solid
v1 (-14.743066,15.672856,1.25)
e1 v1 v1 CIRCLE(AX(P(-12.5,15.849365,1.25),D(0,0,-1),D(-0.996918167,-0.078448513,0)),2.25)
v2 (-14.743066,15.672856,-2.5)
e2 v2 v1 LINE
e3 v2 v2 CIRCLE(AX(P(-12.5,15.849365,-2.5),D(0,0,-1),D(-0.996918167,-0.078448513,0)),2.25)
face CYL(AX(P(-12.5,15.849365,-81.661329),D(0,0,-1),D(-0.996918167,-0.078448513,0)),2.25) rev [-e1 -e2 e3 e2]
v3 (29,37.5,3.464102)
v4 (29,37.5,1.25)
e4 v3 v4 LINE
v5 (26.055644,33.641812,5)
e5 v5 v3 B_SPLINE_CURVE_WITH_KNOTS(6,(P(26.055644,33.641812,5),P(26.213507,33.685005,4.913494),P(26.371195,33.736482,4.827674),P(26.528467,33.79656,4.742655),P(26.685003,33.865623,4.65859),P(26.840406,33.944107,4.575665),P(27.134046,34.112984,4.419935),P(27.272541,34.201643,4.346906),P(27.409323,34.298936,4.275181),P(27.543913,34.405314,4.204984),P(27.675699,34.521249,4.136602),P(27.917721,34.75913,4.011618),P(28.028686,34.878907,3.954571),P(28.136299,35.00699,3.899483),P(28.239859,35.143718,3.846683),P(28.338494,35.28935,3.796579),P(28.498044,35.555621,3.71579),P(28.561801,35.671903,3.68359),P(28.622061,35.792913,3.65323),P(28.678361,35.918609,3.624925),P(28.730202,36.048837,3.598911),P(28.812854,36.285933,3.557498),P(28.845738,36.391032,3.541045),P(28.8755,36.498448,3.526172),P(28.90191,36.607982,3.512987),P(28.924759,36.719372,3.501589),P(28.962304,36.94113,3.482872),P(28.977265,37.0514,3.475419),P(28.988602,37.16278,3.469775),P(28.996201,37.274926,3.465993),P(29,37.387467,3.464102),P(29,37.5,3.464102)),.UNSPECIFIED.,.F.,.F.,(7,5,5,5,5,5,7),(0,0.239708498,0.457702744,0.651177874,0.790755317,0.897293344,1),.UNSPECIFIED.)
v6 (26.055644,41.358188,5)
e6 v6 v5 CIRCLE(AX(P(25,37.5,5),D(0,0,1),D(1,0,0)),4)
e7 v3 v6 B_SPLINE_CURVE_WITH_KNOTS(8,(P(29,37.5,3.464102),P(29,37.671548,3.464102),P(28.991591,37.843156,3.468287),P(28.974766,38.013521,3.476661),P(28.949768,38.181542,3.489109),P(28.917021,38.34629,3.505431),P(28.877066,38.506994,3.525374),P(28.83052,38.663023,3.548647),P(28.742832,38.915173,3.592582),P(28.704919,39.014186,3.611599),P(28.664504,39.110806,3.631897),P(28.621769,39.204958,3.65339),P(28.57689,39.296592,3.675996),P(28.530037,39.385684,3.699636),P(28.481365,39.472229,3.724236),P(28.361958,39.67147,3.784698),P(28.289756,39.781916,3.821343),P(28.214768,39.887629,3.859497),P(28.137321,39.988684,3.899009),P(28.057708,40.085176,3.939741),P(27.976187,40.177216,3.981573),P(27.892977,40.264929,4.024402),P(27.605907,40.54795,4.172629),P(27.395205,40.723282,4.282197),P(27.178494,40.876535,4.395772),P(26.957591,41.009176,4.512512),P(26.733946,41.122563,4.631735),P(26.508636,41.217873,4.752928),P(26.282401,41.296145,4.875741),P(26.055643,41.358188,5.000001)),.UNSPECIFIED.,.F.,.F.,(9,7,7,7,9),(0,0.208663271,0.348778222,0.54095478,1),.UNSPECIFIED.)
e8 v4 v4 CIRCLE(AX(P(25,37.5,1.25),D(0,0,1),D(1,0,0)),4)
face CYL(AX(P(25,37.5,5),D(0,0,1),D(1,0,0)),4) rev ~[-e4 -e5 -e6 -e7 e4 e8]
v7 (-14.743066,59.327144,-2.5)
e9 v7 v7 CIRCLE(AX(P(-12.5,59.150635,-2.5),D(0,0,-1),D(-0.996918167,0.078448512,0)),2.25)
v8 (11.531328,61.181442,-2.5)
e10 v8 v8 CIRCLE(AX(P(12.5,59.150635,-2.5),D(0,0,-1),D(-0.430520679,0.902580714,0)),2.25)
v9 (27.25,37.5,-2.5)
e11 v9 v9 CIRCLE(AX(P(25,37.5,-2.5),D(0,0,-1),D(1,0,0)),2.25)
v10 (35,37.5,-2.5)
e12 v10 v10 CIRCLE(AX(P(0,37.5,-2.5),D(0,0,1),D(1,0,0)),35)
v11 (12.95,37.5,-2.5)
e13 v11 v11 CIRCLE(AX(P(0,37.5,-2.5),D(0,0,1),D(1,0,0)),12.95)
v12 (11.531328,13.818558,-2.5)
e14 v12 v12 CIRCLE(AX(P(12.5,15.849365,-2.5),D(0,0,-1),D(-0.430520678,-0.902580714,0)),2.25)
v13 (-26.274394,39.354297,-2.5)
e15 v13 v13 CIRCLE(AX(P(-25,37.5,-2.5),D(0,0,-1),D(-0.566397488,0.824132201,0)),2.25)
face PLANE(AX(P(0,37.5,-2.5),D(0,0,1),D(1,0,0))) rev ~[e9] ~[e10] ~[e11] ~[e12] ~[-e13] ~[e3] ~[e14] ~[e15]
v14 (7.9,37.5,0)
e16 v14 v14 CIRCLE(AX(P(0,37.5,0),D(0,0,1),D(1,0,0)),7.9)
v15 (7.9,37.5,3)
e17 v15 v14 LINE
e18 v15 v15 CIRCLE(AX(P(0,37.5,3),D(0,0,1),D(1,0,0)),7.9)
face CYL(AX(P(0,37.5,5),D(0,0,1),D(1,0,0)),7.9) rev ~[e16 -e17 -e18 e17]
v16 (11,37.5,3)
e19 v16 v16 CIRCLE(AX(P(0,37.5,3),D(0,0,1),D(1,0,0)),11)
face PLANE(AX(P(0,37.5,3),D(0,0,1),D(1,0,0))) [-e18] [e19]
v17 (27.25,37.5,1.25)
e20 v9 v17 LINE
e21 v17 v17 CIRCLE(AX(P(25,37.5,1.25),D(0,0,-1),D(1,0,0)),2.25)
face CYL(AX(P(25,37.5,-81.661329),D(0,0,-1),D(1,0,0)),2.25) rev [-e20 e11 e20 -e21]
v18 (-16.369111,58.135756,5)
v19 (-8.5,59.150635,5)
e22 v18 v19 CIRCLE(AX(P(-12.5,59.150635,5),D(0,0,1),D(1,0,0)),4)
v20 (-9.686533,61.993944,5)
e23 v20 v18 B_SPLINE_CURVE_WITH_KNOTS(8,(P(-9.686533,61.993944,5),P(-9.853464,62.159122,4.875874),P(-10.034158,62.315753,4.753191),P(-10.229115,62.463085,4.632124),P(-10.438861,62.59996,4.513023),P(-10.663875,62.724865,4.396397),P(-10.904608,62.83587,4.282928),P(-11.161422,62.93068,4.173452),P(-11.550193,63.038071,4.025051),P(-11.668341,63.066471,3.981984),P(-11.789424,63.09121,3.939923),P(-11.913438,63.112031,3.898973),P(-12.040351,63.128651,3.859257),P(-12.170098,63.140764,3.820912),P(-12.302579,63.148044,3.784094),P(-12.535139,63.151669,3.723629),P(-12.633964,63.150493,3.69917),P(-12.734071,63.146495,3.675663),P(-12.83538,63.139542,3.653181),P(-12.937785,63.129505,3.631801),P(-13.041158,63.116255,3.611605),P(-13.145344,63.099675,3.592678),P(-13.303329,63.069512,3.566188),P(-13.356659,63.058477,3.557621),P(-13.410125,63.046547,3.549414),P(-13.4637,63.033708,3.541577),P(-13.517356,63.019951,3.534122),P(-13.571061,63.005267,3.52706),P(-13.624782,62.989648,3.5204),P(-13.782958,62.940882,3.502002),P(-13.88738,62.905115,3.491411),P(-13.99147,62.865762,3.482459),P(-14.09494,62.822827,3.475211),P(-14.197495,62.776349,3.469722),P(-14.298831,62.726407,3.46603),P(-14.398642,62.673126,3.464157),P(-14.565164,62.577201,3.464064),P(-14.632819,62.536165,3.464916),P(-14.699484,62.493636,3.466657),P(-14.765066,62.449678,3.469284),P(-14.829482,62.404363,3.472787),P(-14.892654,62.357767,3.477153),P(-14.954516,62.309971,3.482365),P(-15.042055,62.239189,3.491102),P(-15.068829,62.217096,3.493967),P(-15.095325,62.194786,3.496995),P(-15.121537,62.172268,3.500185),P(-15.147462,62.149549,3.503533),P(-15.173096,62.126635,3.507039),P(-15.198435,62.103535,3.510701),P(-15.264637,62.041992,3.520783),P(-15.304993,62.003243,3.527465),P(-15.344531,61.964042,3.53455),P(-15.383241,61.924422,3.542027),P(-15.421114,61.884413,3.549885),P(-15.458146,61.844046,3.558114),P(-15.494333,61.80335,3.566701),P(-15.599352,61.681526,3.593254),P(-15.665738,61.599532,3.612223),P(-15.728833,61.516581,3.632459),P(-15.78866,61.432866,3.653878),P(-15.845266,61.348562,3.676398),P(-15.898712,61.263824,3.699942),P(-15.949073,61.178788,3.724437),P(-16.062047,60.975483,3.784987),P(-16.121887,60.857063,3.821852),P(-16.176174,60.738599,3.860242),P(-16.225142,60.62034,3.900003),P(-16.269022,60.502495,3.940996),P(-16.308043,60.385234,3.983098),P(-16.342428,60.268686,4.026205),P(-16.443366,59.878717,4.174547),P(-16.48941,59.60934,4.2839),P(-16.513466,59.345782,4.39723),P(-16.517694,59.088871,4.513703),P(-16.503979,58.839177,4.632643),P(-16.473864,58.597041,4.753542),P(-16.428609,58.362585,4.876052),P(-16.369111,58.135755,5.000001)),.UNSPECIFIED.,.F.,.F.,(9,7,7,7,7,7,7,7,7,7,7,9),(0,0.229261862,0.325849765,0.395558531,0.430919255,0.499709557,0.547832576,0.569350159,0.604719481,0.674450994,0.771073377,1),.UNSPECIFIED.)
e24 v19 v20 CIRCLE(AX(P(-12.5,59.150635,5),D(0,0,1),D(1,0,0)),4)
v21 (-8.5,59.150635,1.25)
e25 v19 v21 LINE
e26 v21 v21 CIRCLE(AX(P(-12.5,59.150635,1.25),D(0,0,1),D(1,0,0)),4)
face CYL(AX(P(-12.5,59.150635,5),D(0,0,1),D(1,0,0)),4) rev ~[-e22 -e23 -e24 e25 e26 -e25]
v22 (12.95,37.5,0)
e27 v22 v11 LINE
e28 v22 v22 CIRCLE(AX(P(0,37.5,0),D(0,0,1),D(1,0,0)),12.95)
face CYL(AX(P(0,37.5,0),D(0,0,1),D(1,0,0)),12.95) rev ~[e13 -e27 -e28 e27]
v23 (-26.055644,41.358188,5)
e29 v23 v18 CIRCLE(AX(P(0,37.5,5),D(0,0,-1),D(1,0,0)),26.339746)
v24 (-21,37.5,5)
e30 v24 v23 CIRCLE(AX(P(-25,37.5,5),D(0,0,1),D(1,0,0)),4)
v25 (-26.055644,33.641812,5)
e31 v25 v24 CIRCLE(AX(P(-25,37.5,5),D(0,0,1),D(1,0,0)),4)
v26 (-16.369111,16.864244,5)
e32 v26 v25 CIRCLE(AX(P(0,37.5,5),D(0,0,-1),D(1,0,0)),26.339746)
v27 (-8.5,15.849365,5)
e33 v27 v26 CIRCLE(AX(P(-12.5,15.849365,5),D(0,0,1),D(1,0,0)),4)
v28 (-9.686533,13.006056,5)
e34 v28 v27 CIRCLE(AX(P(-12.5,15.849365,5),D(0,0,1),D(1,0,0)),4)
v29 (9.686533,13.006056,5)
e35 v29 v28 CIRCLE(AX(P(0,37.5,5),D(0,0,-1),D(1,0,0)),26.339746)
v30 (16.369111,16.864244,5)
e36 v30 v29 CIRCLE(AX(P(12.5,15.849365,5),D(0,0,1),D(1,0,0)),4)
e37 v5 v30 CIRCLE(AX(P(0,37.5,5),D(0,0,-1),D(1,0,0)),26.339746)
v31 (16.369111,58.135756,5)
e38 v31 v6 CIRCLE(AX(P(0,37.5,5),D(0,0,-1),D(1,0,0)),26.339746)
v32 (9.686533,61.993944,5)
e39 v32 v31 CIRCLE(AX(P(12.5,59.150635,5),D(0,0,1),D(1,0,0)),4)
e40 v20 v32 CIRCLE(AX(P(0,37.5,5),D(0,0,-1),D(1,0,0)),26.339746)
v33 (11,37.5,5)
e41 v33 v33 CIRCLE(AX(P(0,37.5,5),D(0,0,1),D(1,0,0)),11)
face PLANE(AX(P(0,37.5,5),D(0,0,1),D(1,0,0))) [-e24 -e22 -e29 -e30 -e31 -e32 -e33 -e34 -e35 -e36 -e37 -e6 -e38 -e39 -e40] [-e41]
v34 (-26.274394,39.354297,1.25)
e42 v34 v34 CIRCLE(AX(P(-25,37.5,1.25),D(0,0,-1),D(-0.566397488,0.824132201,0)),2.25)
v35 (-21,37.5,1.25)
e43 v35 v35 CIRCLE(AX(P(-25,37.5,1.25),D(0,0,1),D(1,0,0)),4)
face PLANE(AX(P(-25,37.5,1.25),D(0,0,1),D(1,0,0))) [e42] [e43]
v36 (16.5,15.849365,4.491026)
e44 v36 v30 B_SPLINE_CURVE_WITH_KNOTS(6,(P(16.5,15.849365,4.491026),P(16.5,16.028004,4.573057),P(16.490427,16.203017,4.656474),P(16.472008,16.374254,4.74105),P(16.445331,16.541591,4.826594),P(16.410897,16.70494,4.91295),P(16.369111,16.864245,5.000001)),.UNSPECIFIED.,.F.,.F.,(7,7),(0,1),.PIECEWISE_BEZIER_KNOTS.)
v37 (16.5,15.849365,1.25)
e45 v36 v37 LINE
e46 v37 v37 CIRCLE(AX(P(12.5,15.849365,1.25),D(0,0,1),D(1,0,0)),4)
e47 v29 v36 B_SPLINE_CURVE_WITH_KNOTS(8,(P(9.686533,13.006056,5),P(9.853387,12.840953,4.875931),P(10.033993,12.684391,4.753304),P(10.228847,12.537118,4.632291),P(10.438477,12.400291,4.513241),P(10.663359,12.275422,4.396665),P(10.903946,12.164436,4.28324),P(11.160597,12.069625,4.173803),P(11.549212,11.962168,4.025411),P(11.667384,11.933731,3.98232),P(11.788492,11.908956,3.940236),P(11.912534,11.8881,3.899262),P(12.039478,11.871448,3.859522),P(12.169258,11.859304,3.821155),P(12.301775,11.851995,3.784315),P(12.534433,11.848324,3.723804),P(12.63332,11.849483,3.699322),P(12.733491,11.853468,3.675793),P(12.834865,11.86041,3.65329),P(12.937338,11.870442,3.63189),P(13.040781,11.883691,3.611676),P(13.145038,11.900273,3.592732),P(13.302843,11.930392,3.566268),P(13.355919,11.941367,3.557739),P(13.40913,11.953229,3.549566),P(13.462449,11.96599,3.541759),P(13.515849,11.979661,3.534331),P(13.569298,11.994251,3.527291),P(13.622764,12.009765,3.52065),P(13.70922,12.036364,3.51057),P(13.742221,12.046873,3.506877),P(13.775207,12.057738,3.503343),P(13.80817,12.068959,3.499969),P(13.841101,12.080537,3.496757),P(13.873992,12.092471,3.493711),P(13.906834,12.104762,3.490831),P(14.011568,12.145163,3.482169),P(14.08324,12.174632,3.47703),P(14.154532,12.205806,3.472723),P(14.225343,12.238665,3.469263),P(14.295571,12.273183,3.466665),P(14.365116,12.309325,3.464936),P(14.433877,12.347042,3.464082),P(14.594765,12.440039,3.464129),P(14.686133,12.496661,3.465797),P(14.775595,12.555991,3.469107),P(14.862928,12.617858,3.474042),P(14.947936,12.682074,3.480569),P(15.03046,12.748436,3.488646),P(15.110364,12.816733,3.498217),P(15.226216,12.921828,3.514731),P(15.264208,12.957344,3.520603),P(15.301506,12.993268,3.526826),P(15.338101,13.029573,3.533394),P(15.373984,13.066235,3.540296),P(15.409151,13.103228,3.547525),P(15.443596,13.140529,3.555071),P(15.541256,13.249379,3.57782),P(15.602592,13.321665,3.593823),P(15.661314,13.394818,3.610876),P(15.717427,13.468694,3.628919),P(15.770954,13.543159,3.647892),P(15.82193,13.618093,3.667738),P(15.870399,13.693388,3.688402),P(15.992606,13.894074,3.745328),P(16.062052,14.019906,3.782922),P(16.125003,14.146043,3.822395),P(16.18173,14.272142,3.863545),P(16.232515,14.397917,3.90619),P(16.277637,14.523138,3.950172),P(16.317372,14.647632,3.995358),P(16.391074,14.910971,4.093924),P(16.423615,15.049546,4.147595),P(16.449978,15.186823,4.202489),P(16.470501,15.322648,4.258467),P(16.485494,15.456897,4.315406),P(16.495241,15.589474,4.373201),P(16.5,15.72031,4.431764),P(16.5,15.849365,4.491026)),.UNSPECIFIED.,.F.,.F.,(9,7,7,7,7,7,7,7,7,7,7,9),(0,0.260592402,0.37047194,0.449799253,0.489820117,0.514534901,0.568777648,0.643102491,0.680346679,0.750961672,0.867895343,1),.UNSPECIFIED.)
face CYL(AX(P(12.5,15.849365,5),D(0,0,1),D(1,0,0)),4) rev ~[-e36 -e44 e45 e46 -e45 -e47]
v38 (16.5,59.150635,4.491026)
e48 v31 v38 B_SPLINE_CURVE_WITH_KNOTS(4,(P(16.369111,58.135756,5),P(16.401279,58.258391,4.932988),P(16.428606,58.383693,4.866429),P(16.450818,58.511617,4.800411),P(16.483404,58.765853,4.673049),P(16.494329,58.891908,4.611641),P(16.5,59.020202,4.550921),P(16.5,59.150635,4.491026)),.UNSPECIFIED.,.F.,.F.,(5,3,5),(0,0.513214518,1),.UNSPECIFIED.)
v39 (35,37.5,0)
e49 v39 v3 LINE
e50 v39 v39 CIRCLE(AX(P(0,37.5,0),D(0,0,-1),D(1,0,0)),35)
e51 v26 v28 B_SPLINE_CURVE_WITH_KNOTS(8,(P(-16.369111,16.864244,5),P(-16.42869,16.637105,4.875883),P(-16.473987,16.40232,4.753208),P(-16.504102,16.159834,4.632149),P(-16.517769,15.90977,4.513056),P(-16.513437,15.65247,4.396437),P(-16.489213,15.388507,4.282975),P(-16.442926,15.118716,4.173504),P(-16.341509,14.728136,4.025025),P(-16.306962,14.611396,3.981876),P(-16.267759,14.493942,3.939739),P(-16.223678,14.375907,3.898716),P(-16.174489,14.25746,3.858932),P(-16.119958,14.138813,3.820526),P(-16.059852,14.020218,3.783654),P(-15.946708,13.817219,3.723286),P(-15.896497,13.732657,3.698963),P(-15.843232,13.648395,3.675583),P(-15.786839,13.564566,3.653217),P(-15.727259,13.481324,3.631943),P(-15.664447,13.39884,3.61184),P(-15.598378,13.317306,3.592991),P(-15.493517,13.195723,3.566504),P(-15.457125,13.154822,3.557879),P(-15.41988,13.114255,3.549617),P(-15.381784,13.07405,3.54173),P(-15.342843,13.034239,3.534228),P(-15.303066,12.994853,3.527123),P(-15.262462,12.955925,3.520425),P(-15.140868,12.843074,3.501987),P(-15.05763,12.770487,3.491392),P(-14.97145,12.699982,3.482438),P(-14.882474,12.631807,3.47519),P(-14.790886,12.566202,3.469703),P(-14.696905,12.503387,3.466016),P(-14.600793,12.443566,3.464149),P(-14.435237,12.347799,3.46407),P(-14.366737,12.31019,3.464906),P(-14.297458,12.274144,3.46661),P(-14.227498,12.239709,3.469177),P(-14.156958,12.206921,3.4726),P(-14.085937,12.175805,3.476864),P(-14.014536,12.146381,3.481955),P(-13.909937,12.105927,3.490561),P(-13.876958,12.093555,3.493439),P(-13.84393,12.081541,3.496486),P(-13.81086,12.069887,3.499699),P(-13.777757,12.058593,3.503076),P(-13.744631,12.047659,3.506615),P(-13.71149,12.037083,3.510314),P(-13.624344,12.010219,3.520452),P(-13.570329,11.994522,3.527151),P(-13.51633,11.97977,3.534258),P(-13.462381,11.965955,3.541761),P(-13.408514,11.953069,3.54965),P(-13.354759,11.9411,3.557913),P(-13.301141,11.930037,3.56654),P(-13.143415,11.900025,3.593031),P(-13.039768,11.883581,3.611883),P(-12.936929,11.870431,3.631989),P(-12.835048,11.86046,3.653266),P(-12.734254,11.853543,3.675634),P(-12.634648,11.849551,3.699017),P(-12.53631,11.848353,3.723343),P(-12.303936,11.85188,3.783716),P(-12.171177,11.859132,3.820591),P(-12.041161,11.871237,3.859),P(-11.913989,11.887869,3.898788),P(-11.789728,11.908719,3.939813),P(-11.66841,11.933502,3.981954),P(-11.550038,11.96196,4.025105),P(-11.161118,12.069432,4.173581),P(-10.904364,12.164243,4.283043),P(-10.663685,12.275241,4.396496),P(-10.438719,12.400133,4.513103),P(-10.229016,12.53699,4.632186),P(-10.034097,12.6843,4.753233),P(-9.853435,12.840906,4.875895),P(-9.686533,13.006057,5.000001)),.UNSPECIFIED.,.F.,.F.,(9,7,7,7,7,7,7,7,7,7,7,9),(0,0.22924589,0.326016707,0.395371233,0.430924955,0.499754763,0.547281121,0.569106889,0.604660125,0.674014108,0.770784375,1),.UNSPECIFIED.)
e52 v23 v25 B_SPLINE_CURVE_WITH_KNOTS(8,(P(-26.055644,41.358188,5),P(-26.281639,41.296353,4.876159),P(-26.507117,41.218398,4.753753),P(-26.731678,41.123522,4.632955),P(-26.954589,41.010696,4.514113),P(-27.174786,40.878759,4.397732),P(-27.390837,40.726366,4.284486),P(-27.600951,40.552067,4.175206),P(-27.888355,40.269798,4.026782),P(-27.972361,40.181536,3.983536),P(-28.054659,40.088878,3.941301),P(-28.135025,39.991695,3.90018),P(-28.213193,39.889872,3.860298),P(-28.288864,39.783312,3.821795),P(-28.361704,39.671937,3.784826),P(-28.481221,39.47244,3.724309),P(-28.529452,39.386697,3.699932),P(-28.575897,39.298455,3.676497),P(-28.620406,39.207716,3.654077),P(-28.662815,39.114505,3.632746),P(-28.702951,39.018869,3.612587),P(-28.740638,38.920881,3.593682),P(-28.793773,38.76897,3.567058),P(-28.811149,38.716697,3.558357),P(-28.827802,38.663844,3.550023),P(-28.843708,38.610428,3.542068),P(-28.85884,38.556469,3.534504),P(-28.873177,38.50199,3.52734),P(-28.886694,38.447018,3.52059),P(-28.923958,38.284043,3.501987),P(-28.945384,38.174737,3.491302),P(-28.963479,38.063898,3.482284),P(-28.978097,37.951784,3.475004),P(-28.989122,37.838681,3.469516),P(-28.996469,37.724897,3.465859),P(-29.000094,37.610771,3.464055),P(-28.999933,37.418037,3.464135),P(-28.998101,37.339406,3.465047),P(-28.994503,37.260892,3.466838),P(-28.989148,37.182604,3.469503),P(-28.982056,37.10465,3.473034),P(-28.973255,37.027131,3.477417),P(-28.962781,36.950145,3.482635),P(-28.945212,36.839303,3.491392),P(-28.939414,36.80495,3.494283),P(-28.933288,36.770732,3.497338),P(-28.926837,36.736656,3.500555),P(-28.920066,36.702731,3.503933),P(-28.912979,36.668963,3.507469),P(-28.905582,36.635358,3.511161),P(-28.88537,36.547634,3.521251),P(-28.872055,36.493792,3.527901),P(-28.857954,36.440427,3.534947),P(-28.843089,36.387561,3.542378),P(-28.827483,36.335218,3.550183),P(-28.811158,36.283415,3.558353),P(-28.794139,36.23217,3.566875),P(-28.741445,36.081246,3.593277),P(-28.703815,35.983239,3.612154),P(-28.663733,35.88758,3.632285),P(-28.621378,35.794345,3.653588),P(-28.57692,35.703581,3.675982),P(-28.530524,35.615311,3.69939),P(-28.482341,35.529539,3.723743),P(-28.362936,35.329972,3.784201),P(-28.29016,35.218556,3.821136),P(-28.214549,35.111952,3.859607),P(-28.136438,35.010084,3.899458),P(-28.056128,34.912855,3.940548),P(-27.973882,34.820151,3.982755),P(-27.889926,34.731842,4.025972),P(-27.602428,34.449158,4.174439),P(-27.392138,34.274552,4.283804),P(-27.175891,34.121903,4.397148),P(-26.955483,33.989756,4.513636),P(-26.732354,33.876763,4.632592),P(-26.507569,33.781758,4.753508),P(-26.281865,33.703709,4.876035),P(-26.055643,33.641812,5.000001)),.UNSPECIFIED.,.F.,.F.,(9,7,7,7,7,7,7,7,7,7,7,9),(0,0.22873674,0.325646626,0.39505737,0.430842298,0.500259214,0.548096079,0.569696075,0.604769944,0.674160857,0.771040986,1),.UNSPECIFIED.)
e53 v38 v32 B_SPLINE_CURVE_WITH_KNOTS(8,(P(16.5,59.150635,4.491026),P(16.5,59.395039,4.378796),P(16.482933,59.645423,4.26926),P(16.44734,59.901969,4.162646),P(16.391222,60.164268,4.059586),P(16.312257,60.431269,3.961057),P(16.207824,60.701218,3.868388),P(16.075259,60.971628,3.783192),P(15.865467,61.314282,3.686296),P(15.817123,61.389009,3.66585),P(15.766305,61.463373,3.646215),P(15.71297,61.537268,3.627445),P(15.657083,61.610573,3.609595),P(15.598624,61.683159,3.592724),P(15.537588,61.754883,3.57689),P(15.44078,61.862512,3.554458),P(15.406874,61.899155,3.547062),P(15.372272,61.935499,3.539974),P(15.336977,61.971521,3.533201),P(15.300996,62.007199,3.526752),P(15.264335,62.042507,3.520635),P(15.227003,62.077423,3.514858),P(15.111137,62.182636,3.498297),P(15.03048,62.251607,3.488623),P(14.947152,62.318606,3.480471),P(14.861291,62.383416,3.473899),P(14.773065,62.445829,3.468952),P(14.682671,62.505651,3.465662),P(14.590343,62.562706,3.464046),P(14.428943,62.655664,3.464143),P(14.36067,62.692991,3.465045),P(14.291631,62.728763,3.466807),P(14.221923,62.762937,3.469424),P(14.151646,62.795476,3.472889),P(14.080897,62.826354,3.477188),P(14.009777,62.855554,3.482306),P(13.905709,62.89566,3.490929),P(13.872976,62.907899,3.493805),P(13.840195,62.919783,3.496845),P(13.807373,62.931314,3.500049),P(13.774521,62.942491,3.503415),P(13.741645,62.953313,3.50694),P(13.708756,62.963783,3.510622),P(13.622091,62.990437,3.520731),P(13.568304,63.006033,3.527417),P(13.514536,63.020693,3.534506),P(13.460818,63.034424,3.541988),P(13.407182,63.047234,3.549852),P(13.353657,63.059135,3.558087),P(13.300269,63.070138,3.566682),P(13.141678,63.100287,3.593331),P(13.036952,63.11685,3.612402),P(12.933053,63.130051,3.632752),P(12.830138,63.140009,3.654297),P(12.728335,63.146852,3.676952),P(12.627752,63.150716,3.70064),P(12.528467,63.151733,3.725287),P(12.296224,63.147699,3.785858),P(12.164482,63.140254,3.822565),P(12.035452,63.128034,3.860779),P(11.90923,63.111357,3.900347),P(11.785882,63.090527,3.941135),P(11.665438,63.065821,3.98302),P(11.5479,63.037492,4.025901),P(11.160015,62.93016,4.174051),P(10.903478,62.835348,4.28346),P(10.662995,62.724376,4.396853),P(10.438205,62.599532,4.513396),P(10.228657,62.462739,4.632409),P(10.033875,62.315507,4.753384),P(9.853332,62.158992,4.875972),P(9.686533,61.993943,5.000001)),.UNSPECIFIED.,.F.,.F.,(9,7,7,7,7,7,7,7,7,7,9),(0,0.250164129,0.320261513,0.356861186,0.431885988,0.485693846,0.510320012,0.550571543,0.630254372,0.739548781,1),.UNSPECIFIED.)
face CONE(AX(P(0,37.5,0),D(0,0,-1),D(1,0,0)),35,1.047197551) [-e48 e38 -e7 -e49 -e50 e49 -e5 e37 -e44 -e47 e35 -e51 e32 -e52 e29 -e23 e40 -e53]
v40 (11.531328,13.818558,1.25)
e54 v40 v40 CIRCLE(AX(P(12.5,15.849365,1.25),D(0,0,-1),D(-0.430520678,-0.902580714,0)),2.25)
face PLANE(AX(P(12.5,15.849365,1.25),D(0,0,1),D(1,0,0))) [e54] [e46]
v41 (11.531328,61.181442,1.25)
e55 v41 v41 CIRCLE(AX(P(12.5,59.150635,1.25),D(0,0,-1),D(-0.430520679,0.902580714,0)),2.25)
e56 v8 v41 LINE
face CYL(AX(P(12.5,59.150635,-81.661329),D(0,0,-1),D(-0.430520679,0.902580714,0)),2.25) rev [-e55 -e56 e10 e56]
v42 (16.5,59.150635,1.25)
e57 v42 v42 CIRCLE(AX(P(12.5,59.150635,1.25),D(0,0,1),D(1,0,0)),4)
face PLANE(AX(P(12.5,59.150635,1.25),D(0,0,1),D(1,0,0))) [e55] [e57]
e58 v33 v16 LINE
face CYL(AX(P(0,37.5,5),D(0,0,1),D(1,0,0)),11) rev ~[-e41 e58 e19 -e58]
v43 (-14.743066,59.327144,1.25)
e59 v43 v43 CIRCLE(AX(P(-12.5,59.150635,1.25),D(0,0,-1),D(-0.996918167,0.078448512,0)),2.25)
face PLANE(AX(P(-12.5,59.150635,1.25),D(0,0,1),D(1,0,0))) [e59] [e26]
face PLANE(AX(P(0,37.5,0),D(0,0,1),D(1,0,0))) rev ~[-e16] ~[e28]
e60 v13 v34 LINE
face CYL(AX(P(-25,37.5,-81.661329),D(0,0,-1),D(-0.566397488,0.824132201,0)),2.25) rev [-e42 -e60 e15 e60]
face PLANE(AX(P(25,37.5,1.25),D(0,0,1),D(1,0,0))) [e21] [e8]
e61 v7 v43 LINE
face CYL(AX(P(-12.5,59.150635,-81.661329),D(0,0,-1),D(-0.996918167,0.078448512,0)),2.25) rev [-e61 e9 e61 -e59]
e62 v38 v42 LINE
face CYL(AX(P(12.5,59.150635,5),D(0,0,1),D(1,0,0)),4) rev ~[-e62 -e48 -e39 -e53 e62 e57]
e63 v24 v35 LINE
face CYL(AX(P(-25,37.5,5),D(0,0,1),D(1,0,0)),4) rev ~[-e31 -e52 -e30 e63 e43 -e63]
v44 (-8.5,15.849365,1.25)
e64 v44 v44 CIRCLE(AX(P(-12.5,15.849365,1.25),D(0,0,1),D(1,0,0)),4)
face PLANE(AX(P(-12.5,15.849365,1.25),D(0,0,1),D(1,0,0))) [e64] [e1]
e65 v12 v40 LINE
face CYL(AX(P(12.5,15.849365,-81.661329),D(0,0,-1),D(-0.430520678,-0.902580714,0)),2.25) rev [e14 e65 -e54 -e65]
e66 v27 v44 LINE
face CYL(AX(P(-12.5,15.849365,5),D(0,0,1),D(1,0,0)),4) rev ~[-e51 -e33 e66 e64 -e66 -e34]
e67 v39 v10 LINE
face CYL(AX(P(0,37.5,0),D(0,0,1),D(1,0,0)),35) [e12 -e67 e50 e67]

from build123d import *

# Parameters (mm, degrees)
SKETCH1_R               = 35
BOSS_EXTRUDE1_DEPTH     = 5
BOSS_EXTRUDE1_TAPER     = 60
SKETCH3_R               = 11
CUT_EXTRUDE1_DEPTH      = 2
SKETCH4_R               = 7.9
CUT_EXTRUDE2_DEPTH      = 81.661329025
SKETCH7_R               = 35
SKETCH7_R_2             = 12.95
BOSS_EXTRUDE2_DEPTH     = 2.5
CUT_EXTRUDE6_DEPTH      = 81.661329025
CUT_EXTRUDE6_DEPTH_BACK = 81.661329025
SKETCH5_R               = 2.25
SKETCH8_R               = 4
CUT_EXTRUDE8_DEPTH      = 3.75


with BuildPart() as part:
    # Sketch1 → Boss-Extrude1 (new body)
    with BuildSketch(Plane.XY):
        with Locations((0, 37.5)):
            Circle(SKETCH1_R)
    extrude(amount=BOSS_EXTRUDE1_DEPTH, taper=BOSS_EXTRUDE1_TAPER)

    # Sketch3 → Cut-Extrude1 (cut)
    with BuildSketch(Plane.XY.offset(5)):
        with Locations((0, 37.5)):
            Circle(SKETCH3_R)
    extrude(amount=-CUT_EXTRUDE1_DEPTH, mode=Mode.SUBTRACT)

    # Sketch4 → Cut-Extrude2 (cut, through all)
    with BuildSketch(Plane.XY.offset(5)):
        with Locations((0, 37.5)):
            Circle(SKETCH4_R)
    extrude(amount=-CUT_EXTRUDE2_DEPTH, mode=Mode.SUBTRACT)

    # Sketch7 → Boss-Extrude2 (add)
    with BuildSketch(Plane.XY):
        with Locations((0, 37.5)):
            Circle(SKETCH7_R)
        with Locations((0, 37.5)):
            Circle(SKETCH7_R_2, mode=Mode.SUBTRACT)
    extrude(amount=-BOSS_EXTRUDE2_DEPTH)

    # Sketch5 → Cut-Extrude6 (cut, two sides: drawn at the far end of the back side and taken through both)
    with BuildSketch(Plane.XY.offset(-CUT_EXTRUDE6_DEPTH_BACK)):
        with Locations(Location((-12.5, 15.849364905, 0), (0, 0, 184.499391781))):
            Circle(SKETCH5_R)
        with Locations(Location((-25, 37.5, 0), (0, 0, 124.499391764))):
            Circle(SKETCH5_R)
        with Locations(Location((-12.5, 59.150635095, 0), (0, 0, 175.50060828))):
            Circle(SKETCH5_R)
        with Locations(Location((12.5, 59.150635095, 0), (0, 0, 115.50060828))):
            Circle(SKETCH5_R)
        with Locations((25, 37.5)):
            Circle(SKETCH5_R)
        with Locations(Location((12.5, 15.849364905, 0), (0, 0, 244.499391764))):
            Circle(SKETCH5_R)
    extrude(amount=CUT_EXTRUDE6_DEPTH + CUT_EXTRUDE6_DEPTH_BACK, mode=Mode.SUBTRACT)

    # Sketch8 → Cut-Extrude8 (cut)
    with BuildSketch(Plane.XY.offset(5)):
        with Locations((-12.5, 59.150635095)):
            Circle(SKETCH8_R)
        with Locations((-25, 37.5)):
            Circle(SKETCH8_R)
        with Locations((12.5, 59.150635095)):
            Circle(SKETCH8_R)
        with Locations((25, 37.5)):
            Circle(SKETCH8_R)
        with Locations((12.5, 15.849364905)):
            Circle(SKETCH8_R)
        with Locations((-12.5, 15.849364905)):
            Circle(SKETCH8_R)
    extrude(amount=-CUT_EXTRUDE8_DEPTH, mode=Mode.SUBTRACT)


solid = part.part
